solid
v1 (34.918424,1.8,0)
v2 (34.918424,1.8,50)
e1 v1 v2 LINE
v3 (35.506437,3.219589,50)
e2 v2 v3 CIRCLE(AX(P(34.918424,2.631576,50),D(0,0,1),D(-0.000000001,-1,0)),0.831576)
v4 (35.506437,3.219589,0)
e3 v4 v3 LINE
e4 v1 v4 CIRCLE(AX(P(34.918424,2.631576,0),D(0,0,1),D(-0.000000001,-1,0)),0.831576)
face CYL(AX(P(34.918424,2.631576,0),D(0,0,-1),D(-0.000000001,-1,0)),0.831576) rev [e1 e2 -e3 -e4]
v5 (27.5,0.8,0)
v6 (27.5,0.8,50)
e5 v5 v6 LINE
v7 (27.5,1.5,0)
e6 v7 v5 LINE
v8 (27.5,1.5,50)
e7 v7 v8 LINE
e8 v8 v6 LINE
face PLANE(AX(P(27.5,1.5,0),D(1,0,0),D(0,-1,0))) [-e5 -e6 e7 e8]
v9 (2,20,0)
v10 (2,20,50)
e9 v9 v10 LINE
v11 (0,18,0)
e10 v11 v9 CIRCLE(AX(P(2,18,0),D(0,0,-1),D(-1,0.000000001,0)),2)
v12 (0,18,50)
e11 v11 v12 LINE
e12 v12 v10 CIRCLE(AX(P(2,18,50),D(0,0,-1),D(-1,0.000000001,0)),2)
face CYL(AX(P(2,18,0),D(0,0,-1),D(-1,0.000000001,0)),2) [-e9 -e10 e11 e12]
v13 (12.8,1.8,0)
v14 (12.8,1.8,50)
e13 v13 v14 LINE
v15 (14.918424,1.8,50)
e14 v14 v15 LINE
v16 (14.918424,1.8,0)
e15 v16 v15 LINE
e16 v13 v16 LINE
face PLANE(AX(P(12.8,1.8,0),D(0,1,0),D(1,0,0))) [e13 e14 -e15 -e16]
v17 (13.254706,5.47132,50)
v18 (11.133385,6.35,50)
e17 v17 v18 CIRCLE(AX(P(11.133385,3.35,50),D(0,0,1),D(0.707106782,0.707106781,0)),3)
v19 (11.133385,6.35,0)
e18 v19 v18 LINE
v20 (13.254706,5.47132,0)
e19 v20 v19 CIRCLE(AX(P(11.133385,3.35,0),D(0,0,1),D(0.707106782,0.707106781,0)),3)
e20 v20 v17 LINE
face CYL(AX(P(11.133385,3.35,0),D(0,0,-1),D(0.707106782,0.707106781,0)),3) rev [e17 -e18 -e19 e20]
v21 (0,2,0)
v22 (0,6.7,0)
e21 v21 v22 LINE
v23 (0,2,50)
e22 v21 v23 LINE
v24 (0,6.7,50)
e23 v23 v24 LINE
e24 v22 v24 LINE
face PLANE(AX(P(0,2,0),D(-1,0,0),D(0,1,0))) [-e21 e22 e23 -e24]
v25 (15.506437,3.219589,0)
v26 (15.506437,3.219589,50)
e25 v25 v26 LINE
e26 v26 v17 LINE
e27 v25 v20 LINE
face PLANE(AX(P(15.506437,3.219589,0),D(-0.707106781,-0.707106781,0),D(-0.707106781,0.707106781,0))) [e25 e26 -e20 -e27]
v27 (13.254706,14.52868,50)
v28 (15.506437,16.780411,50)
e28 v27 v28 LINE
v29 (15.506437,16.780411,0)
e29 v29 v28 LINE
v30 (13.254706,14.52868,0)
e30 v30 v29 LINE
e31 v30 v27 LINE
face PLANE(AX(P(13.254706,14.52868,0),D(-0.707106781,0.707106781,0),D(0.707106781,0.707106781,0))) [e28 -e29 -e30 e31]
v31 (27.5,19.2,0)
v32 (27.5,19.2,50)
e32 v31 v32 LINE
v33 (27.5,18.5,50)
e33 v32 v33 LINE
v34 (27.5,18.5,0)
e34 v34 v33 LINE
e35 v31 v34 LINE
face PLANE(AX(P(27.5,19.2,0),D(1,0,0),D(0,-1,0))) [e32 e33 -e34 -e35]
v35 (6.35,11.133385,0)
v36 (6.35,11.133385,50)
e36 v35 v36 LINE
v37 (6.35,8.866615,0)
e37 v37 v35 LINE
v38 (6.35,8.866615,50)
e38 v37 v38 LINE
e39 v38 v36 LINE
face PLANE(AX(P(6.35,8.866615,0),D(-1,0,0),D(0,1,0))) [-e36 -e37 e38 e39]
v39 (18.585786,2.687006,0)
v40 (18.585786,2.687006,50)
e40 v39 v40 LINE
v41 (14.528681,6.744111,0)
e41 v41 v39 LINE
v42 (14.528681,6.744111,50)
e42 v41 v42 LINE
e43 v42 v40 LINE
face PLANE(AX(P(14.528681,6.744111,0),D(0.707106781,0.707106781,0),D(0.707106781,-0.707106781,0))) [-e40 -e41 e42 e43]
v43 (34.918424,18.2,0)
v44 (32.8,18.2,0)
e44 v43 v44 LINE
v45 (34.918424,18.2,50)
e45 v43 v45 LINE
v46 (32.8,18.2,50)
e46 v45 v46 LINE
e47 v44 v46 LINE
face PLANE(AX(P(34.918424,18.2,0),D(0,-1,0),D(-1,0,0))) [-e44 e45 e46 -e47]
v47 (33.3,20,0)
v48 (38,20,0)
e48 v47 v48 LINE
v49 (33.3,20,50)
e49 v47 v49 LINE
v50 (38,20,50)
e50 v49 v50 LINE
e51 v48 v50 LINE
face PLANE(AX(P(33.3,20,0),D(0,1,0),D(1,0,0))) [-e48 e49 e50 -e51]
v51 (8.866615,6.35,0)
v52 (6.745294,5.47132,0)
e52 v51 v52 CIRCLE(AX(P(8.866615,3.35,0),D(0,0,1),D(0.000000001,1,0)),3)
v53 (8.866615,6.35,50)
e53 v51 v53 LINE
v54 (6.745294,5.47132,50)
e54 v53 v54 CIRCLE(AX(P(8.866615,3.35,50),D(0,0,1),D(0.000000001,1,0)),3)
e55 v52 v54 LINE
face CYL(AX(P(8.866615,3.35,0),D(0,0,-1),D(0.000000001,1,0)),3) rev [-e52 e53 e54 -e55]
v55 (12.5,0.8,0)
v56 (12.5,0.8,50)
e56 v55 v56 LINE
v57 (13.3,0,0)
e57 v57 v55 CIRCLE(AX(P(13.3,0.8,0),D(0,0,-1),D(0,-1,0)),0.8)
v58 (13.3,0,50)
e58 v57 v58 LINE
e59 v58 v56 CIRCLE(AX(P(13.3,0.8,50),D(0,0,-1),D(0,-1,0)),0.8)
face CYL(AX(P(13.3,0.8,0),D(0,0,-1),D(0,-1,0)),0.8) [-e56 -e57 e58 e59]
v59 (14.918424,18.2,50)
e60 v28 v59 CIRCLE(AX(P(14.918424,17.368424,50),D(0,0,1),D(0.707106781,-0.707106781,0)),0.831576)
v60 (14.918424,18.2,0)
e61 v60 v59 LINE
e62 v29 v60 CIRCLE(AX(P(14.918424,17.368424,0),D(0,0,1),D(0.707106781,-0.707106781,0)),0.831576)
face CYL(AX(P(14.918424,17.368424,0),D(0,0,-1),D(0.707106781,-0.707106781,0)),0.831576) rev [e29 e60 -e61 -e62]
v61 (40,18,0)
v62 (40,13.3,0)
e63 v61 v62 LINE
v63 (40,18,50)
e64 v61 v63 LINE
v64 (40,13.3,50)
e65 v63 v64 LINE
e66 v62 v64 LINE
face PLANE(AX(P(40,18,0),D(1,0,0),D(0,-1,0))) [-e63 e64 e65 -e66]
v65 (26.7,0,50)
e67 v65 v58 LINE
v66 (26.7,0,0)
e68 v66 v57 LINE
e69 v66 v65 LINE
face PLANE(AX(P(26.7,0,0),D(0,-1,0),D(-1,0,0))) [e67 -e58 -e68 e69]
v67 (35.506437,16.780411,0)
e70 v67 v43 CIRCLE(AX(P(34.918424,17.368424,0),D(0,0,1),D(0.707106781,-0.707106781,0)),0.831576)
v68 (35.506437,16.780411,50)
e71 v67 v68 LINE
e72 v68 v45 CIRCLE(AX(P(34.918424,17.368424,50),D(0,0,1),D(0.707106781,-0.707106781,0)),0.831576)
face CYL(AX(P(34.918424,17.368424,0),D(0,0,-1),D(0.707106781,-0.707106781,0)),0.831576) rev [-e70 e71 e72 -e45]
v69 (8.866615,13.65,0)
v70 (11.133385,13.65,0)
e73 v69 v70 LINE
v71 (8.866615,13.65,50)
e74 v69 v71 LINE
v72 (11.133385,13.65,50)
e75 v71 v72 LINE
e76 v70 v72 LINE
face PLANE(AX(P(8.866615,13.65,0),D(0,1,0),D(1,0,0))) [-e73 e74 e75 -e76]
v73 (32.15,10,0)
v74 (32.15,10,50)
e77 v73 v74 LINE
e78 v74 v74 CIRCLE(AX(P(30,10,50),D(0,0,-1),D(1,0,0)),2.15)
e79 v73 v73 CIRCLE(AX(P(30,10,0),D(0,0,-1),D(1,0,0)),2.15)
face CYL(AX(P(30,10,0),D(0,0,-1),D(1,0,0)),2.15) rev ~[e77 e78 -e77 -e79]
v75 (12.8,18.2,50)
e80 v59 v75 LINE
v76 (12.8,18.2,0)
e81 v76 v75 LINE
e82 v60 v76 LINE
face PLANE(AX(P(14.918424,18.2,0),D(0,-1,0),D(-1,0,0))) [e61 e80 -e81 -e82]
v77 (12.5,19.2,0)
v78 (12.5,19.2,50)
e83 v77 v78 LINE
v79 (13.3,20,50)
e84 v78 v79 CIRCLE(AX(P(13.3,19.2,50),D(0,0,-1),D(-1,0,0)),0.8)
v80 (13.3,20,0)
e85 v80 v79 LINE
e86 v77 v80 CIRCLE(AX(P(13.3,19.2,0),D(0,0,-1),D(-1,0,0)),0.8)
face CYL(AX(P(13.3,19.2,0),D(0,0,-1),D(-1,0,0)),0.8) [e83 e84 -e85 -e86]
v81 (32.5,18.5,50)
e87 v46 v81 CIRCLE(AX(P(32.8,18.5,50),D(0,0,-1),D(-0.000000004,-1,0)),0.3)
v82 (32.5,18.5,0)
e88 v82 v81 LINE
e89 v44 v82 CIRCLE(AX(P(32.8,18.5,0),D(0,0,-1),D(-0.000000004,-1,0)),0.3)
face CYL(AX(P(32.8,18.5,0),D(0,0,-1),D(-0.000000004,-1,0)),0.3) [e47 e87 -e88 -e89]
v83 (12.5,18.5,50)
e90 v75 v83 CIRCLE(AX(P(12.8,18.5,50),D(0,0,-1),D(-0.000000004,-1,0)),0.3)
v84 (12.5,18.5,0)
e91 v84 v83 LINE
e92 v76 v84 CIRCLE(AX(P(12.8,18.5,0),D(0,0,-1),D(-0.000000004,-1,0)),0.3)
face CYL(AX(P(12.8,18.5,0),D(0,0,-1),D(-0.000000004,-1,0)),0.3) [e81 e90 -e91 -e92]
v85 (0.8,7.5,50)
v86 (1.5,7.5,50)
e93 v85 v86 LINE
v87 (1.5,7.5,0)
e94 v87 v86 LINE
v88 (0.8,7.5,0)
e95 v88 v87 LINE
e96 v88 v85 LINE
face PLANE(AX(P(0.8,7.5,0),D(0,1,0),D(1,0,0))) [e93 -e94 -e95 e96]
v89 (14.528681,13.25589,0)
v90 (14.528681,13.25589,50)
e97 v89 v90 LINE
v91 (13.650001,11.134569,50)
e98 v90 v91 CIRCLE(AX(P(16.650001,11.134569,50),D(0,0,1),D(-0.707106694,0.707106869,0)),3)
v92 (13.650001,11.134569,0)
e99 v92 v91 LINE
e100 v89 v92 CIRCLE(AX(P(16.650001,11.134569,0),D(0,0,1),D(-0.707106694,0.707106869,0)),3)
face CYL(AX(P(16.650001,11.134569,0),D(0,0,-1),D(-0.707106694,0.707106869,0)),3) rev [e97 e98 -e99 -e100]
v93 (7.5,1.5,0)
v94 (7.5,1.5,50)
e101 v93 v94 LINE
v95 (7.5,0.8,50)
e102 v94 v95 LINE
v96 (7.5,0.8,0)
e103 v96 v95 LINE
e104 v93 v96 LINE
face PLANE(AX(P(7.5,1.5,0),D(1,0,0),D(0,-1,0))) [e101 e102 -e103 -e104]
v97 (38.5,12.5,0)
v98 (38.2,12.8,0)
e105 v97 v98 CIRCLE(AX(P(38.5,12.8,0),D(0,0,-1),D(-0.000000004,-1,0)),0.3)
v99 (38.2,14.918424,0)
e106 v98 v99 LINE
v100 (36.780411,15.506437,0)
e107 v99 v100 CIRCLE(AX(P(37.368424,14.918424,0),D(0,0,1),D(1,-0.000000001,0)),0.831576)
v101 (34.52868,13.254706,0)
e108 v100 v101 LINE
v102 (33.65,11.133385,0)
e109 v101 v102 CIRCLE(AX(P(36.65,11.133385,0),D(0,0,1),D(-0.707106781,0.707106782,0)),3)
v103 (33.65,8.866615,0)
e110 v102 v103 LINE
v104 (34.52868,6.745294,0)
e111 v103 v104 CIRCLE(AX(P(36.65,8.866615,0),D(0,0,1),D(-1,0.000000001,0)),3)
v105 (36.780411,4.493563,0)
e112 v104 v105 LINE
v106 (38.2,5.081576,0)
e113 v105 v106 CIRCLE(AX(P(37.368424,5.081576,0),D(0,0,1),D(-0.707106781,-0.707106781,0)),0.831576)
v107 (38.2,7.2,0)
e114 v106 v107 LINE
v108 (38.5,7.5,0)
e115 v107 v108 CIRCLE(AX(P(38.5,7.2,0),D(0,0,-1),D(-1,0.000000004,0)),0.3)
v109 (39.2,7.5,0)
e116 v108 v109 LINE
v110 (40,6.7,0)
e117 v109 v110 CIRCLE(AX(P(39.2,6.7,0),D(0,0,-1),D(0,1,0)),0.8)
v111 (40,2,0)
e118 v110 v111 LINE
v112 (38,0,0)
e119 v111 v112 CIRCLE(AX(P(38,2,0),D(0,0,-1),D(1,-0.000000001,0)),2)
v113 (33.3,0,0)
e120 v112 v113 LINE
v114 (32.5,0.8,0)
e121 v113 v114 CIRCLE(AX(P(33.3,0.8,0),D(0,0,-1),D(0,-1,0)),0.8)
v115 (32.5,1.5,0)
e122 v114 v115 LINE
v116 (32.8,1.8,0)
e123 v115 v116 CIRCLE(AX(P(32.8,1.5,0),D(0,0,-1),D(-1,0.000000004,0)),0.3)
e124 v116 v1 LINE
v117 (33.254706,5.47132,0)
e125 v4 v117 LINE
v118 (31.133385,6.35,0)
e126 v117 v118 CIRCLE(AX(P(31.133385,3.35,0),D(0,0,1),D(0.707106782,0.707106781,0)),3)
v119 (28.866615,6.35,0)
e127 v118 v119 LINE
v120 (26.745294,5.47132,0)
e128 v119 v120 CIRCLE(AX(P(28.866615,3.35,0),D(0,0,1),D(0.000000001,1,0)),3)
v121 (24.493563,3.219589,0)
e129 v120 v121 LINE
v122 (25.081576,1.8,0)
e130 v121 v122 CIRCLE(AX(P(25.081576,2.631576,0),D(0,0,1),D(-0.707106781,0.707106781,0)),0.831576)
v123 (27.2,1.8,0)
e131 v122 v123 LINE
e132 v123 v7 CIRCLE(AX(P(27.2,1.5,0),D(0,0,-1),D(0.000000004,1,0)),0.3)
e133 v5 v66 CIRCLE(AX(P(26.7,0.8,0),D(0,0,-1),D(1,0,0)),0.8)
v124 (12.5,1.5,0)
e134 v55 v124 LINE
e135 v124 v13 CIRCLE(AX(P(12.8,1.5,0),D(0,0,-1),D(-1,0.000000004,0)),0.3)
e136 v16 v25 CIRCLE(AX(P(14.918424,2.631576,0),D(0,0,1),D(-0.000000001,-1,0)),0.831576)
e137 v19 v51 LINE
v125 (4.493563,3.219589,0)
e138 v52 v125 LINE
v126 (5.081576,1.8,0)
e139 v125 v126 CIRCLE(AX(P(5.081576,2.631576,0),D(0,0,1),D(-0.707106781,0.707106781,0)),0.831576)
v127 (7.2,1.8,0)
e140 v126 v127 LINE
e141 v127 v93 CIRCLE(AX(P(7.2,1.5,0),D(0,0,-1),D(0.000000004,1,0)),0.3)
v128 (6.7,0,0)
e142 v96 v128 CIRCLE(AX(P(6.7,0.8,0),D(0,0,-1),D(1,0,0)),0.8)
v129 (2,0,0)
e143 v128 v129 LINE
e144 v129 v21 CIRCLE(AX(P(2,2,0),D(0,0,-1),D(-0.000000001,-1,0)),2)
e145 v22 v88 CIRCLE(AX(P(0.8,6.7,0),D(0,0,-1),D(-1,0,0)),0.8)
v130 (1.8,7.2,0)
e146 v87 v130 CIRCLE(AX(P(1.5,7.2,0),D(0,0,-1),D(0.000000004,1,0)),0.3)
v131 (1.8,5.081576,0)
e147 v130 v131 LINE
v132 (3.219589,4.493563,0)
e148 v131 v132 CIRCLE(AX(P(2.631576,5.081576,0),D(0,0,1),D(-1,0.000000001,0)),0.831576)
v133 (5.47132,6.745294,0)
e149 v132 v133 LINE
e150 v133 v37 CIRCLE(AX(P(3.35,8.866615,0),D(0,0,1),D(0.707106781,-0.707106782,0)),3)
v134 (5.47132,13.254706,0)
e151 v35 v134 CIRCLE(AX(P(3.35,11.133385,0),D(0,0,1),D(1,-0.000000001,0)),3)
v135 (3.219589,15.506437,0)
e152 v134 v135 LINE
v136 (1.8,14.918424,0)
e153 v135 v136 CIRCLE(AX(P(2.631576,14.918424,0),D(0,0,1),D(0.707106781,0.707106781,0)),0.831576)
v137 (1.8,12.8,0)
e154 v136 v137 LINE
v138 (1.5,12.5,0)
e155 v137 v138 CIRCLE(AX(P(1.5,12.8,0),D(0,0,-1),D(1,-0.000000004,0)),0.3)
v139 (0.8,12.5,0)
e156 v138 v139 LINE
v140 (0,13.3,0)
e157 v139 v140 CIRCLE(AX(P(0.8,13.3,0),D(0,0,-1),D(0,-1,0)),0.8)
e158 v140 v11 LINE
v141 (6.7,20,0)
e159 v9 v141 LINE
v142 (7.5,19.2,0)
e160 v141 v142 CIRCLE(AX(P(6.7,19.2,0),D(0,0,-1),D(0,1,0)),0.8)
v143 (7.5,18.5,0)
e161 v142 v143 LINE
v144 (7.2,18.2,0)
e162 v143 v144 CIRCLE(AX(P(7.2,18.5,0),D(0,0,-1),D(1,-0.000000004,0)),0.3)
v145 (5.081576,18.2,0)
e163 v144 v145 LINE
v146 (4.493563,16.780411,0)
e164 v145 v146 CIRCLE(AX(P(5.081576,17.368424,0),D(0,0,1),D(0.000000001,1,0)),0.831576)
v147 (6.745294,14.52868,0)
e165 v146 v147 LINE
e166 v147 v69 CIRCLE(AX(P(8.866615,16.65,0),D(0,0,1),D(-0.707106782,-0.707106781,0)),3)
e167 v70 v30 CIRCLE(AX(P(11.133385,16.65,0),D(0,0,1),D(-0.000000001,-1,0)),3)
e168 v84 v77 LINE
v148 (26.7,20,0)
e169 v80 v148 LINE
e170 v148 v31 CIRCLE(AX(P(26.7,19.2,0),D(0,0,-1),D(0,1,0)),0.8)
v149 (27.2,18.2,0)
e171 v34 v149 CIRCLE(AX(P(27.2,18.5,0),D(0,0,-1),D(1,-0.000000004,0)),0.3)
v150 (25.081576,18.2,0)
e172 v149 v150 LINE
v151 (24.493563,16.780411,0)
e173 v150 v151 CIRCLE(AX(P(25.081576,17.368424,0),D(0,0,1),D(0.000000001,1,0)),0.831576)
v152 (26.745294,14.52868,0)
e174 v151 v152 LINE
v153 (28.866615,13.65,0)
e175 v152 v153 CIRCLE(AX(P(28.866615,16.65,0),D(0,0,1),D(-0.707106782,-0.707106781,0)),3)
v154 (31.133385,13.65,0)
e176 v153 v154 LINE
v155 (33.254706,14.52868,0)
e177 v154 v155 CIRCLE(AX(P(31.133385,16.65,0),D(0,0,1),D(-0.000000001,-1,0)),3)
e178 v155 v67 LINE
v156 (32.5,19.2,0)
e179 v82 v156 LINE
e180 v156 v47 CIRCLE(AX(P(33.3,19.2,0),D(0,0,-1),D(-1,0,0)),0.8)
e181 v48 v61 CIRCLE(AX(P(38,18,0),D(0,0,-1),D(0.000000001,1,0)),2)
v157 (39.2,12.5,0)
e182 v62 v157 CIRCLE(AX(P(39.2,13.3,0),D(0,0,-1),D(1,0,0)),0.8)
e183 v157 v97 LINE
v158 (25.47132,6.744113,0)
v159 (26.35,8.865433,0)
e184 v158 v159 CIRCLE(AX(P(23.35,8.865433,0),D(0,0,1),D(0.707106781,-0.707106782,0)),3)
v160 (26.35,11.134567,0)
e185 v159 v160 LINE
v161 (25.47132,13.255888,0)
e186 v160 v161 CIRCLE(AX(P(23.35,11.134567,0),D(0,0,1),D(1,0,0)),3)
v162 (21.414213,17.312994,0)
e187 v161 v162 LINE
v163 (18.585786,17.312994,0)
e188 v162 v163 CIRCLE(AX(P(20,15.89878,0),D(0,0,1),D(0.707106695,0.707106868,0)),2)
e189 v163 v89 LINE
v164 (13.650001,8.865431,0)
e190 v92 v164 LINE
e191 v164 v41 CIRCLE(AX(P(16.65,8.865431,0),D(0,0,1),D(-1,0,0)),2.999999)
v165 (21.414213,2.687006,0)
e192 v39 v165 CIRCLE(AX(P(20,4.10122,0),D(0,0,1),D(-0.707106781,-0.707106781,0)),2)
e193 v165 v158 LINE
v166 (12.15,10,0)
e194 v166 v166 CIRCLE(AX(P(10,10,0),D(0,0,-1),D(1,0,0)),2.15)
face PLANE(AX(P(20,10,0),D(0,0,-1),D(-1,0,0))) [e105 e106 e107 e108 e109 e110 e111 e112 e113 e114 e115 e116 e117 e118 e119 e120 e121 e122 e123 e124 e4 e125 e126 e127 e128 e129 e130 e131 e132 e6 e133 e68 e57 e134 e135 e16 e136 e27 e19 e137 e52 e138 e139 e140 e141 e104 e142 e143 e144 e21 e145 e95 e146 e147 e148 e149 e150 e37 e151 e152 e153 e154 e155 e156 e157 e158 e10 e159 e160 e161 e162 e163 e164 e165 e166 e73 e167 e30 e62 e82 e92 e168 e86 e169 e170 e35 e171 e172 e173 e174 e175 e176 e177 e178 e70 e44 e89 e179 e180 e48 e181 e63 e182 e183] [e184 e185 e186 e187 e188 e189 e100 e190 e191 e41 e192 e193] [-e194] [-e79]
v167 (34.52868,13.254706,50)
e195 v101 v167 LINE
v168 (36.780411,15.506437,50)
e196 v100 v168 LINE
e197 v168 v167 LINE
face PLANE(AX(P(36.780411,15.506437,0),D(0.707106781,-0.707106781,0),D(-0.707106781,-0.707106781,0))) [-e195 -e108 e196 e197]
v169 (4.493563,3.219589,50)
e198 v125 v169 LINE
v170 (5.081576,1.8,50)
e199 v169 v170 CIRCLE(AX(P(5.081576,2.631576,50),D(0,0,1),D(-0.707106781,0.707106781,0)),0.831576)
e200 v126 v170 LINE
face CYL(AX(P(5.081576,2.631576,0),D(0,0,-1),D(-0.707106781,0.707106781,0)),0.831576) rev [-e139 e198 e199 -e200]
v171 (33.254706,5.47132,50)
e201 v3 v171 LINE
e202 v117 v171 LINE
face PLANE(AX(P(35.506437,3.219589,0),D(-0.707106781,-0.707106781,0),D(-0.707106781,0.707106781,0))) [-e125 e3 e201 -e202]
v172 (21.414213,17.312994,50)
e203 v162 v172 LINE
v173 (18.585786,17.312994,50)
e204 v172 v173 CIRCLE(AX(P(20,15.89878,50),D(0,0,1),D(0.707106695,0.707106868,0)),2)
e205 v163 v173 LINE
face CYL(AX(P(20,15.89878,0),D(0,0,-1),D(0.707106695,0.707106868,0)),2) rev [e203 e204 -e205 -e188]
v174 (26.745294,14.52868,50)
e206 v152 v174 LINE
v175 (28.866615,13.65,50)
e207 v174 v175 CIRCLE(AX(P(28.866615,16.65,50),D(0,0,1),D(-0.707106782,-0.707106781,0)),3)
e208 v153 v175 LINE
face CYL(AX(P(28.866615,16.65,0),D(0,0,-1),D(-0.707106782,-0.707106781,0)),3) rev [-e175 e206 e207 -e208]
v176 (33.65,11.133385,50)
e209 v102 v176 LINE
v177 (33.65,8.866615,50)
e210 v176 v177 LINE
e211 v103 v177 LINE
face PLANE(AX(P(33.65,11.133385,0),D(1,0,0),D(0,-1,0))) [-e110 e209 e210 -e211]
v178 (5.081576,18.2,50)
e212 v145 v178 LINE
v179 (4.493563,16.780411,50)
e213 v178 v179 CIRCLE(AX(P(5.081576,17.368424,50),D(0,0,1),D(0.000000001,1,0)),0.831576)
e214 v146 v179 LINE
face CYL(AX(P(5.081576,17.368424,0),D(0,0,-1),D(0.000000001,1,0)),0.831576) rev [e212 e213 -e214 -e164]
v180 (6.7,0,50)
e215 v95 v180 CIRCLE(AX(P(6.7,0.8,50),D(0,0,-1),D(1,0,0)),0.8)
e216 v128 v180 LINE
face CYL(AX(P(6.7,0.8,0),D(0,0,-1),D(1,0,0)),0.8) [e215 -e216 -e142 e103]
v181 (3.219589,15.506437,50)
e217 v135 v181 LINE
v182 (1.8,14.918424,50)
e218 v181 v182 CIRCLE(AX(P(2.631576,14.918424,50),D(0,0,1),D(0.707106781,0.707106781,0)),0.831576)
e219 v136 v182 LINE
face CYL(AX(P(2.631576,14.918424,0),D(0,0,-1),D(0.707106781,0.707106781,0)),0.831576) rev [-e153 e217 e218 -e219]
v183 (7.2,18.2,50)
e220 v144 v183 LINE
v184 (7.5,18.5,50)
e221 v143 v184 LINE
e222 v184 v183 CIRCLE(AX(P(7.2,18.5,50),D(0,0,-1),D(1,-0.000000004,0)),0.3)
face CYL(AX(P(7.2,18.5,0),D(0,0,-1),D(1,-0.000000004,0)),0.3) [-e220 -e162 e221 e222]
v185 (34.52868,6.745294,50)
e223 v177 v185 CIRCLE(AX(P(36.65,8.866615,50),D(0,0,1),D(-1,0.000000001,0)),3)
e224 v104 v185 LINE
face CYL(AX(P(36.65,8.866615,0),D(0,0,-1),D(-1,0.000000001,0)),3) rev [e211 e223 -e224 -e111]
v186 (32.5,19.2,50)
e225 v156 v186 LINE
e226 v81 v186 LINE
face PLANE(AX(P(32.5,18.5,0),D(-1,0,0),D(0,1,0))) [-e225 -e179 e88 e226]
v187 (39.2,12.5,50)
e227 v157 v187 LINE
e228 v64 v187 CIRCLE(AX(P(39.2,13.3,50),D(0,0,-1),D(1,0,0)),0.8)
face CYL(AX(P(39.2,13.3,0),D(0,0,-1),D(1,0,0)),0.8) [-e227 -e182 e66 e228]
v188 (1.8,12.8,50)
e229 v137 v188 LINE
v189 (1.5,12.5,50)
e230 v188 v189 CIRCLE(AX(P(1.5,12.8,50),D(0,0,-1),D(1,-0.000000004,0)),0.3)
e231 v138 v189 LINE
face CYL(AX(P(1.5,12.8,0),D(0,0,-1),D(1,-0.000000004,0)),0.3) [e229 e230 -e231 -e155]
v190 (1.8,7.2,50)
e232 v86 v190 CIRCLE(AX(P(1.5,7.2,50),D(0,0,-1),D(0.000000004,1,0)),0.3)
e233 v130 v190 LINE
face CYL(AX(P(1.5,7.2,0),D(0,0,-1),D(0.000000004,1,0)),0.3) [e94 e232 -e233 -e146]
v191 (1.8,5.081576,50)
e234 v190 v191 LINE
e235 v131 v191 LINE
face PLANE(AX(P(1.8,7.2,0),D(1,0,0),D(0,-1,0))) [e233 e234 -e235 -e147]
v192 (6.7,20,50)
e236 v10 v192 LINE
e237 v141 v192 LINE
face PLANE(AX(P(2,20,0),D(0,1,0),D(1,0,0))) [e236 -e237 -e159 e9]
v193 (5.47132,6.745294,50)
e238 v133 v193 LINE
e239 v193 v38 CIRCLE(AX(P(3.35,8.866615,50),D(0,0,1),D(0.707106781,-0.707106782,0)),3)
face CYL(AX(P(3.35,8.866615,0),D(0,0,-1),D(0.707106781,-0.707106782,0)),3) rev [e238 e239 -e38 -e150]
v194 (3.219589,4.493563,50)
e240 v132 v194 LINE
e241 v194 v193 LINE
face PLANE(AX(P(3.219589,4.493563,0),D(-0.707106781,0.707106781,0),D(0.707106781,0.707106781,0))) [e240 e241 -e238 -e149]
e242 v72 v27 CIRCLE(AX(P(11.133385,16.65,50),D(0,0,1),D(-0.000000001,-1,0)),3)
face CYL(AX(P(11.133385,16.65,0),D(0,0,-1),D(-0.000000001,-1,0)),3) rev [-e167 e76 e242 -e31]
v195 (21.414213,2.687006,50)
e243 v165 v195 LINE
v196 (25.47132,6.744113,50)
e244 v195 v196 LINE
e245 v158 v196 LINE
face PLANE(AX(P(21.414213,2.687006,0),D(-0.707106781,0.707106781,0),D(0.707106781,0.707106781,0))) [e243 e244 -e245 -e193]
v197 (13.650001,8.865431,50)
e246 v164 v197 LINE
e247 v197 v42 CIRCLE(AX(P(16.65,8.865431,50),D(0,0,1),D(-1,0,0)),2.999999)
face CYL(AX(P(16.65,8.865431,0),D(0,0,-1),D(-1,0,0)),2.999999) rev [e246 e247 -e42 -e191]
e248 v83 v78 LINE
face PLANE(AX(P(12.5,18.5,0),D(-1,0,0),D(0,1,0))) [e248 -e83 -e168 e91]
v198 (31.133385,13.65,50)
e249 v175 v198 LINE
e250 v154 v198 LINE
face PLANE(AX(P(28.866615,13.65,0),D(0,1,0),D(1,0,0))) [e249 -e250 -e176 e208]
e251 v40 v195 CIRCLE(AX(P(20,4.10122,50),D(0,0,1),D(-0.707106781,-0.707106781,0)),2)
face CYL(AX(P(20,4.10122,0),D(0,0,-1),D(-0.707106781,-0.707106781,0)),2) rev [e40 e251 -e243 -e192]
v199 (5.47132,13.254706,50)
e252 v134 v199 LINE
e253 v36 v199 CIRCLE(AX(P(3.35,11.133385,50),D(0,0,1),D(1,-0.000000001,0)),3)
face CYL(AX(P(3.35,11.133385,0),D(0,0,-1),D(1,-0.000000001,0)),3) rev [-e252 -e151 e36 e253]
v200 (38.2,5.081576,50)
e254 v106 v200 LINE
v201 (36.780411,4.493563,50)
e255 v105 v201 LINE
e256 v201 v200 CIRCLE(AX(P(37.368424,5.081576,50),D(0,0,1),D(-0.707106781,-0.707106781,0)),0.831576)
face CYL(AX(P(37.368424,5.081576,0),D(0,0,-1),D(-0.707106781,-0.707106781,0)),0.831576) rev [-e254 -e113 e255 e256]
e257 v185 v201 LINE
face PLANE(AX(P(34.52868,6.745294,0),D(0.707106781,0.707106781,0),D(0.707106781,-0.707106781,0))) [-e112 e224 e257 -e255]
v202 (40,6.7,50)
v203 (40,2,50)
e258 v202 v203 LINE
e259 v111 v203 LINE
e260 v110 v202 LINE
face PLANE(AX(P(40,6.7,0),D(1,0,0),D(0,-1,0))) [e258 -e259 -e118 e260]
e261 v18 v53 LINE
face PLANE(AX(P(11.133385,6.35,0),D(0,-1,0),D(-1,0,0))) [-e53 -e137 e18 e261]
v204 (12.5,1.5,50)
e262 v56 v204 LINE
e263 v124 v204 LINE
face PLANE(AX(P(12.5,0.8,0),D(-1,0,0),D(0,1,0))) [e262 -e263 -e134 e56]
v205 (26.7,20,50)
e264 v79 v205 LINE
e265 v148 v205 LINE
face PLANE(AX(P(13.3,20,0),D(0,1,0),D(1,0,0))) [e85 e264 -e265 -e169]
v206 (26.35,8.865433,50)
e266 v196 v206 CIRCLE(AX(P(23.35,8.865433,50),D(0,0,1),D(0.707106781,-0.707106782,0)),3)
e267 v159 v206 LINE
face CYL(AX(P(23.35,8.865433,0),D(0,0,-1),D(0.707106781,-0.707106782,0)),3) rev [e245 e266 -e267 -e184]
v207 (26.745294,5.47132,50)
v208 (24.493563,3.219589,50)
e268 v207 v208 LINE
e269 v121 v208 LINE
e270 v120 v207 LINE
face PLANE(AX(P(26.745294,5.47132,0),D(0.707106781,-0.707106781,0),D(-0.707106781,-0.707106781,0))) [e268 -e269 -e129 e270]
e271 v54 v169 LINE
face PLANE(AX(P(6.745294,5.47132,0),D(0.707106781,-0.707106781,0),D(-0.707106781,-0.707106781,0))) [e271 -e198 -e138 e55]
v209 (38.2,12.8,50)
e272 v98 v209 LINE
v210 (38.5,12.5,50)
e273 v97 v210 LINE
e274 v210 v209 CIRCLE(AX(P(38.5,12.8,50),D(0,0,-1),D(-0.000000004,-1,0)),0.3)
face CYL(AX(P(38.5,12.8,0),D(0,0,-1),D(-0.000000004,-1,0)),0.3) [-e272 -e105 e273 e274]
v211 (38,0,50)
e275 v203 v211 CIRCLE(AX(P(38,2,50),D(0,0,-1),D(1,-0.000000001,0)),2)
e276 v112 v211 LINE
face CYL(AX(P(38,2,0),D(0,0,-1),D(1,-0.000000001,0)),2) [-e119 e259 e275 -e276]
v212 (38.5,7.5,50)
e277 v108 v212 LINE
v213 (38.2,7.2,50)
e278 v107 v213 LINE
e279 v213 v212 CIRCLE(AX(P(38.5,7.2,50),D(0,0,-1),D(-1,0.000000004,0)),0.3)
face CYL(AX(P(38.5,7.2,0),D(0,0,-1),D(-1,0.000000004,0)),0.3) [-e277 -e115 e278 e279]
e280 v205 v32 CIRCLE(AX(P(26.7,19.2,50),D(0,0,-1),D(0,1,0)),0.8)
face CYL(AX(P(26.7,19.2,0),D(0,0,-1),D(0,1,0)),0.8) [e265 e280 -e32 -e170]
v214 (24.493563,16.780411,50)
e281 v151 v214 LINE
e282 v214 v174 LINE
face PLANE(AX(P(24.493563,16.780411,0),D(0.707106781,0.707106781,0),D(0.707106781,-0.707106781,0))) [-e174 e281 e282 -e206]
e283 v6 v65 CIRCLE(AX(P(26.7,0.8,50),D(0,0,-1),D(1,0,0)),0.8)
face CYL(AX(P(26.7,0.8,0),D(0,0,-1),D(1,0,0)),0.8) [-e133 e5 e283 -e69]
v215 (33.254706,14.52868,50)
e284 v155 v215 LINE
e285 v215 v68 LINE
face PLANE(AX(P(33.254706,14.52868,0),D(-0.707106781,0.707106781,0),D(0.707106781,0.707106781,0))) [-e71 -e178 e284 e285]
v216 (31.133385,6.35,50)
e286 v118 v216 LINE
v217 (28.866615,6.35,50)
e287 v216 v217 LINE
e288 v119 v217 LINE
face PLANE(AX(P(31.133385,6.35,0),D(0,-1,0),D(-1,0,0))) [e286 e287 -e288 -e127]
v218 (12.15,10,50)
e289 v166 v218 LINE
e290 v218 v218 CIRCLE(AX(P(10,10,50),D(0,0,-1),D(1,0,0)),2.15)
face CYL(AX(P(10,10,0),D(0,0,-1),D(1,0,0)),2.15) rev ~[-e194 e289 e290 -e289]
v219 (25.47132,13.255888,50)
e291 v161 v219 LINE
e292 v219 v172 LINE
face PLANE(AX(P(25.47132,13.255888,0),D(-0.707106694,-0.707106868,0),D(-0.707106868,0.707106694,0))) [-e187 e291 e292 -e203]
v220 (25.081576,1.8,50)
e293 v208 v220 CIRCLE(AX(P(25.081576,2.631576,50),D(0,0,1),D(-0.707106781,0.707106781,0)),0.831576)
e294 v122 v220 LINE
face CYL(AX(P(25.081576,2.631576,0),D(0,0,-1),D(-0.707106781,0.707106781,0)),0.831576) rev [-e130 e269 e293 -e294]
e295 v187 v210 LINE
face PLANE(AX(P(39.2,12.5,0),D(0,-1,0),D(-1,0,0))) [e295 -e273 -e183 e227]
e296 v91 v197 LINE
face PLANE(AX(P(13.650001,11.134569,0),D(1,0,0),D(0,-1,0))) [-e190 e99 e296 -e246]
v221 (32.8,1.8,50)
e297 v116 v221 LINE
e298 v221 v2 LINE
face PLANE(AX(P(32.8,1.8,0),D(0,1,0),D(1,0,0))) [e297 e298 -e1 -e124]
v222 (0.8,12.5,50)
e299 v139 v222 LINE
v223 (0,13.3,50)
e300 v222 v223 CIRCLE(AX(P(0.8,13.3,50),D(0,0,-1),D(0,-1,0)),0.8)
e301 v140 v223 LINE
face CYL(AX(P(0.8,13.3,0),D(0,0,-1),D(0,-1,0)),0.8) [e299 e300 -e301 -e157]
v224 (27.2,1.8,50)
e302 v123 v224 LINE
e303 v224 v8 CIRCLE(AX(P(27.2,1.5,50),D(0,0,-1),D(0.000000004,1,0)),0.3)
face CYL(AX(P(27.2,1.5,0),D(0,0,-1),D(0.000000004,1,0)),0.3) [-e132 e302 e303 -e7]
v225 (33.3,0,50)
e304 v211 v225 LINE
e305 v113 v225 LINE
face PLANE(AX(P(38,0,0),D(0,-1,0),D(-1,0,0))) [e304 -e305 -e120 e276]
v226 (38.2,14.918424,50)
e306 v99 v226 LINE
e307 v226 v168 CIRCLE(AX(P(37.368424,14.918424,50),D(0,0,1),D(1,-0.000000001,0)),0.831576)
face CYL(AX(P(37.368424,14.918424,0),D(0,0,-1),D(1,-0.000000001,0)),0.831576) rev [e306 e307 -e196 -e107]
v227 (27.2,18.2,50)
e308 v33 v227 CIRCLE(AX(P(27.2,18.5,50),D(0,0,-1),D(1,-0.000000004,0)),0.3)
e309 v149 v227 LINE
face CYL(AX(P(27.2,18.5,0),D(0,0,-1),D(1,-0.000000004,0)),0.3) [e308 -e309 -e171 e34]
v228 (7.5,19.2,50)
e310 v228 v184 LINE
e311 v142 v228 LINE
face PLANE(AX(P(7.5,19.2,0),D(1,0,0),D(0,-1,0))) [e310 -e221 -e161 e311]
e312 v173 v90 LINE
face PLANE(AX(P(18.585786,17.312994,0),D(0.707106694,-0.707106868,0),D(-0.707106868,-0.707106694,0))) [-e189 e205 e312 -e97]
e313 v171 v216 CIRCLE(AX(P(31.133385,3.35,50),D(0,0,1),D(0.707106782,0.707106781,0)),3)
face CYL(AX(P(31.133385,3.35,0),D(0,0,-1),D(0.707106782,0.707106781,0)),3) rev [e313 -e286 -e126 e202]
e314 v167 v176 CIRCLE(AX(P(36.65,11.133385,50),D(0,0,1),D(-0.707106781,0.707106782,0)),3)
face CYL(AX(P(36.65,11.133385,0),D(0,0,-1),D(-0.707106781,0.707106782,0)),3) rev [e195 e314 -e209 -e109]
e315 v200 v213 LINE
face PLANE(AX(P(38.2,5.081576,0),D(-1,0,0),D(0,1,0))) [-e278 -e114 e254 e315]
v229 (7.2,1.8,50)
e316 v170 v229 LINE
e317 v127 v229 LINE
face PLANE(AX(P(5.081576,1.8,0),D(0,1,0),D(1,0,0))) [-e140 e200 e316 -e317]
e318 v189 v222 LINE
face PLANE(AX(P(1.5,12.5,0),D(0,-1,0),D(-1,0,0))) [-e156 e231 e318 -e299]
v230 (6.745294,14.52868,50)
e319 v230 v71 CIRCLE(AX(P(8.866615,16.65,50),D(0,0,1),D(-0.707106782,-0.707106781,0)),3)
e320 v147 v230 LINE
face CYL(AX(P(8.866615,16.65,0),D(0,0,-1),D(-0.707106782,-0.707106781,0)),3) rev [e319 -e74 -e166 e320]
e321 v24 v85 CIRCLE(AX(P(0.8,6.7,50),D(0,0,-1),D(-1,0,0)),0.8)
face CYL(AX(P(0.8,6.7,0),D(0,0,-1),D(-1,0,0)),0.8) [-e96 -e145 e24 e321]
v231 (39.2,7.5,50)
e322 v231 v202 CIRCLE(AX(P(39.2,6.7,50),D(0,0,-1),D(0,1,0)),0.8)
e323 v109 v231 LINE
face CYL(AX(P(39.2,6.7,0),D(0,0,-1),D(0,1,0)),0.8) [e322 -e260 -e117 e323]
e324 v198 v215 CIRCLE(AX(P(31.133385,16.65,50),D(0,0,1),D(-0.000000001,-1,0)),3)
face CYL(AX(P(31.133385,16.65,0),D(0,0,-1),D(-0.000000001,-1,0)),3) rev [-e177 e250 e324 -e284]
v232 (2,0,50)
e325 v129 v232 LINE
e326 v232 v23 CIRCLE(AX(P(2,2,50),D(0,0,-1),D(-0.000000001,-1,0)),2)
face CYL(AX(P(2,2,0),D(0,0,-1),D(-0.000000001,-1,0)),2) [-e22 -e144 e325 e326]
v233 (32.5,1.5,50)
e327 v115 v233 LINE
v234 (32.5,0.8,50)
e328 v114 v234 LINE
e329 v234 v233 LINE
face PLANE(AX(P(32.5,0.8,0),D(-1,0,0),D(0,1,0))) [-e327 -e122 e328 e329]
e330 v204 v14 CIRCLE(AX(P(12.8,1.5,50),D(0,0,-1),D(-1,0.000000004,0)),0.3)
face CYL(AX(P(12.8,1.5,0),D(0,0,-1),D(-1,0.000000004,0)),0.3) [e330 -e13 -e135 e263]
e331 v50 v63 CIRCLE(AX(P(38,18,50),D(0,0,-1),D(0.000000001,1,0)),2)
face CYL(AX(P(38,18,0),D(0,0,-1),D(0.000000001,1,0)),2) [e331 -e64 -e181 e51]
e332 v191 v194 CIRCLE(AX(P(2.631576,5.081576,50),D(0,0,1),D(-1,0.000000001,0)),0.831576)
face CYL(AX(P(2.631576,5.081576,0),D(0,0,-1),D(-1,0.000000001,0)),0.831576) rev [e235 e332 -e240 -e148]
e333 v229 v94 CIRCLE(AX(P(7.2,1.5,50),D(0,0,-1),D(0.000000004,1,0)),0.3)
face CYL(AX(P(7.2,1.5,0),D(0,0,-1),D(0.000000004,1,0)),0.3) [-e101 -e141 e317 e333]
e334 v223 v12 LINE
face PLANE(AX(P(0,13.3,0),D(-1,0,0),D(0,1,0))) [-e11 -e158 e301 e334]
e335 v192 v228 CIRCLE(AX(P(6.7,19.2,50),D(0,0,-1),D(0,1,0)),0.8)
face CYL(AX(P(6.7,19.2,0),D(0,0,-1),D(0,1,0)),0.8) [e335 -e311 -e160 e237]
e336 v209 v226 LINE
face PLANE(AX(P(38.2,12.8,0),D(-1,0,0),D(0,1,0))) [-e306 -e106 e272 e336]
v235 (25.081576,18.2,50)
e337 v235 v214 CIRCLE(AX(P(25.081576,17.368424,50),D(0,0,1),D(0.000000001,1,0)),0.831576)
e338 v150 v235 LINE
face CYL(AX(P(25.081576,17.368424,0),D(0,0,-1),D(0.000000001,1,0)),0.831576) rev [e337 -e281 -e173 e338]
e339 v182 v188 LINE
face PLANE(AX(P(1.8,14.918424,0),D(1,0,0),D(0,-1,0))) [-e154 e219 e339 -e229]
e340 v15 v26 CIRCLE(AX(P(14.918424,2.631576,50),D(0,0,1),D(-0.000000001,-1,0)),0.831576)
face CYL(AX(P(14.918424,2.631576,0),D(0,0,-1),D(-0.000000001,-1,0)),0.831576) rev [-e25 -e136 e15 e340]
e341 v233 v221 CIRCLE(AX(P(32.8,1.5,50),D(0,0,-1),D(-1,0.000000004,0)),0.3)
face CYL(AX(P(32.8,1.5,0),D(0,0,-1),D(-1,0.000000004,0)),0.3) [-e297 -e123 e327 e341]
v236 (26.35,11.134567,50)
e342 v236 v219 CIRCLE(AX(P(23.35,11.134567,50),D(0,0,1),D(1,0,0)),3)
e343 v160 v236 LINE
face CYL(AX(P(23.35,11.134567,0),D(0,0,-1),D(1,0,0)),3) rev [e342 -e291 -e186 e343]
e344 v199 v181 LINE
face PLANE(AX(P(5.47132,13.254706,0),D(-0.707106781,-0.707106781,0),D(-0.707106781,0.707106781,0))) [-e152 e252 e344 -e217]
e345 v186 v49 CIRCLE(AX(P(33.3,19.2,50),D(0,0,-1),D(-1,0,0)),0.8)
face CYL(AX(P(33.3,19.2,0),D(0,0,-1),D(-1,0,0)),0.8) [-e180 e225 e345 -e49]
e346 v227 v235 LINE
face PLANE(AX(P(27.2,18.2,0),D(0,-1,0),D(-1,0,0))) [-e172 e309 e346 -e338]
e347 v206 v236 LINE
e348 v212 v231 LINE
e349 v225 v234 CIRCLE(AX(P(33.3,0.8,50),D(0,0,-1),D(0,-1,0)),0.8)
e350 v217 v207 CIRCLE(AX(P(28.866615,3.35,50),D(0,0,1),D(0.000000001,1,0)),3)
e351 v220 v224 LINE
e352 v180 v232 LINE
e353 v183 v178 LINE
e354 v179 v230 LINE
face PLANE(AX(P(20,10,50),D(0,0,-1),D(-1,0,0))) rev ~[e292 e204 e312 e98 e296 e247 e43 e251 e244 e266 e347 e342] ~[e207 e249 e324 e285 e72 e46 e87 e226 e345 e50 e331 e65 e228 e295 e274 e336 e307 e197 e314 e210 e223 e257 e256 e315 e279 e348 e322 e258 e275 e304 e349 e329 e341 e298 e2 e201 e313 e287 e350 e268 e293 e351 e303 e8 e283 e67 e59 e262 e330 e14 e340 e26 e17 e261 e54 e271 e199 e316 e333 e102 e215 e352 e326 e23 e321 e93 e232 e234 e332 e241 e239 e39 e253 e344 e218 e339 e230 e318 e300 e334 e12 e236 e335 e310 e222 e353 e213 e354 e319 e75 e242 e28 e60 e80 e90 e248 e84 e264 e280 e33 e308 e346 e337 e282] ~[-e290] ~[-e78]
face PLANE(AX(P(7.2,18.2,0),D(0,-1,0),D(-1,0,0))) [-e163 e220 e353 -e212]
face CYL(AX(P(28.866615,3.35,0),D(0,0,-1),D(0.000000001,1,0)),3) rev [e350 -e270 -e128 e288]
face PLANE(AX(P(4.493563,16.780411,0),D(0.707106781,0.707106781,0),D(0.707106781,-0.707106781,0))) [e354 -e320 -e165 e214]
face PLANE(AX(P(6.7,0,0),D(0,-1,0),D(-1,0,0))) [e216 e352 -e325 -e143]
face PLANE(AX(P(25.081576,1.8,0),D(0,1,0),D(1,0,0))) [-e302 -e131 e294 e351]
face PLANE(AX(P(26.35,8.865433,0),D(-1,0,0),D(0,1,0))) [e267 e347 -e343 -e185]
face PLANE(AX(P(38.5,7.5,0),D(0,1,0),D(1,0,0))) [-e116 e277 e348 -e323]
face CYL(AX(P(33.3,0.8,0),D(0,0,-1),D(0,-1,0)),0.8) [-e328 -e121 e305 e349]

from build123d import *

# Parameters (mm, degrees)
ESQUISSE1_R        = 2.15
BOSS_EXTRU_1_DEPTH = 50


with BuildPart() as part:
    # Esquisse1 → Boss.-Extru.1 (new body)
    with BuildSketch(Plane(origin=(0, 0, 0), x_dir=(-1, 0, 0), z_dir=(0, 0, -1))):
        with BuildLine():
            Line((-40, 6.7), (-40, 2))
            ThreePointArc((-40, 2), (-39.414213562, 0.585786438), (-38, 0))
            Line((-38, 0), (-33.3, 0))
            ThreePointArc((-33.3, 0), (-32.734314575, 0.234314575), (-32.5, 0.8))
            Line((-32.5, 0.8), (-32.5, 1.5))
            ThreePointArc((-32.5, 1.5), (-32.587867966, 1.712132034), (-32.8, 1.8))
            Line((-32.8, 1.8), (-34.918424061, 1.8))
            ThreePointArc((-34.918424061, 1.8), (-35.686700051, 2.313345604), (-35.506437047, 3.219588924))
            Line((-35.506437047, 3.219588924), (-33.254705627, 5.471320344))
            ThreePointArc((-33.254705627, 5.471320344), (-32.281435581, 6.121638598), (-31.133385284, 6.35))
            Line((-31.133385284, 6.35), (-28.866614716, 6.35))
            ThreePointArc((-28.866614716, 6.35), (-27.718564419, 6.121638598), (-26.745294373, 5.471320344))
            Line((-26.745294373, 5.471320344), (-24.493562953, 3.219588924))
            ThreePointArc((-24.493562953, 3.219588924), (-24.313299949, 2.313345604), (-25.081575939, 1.8))
            Line((-25.081575939, 1.8), (-27.2, 1.8))
            ThreePointArc((-27.2, 1.8), (-27.412132034, 1.712132034), (-27.5, 1.5))
            Line((-27.5, 1.5), (-27.5, 0.8))
            ThreePointArc((-27.5, 0.8), (-27.265685425, 0.234314575), (-26.7, 0))
            Line((-26.7, 0), (-13.3, 0))
            ThreePointArc((-13.3, 0), (-12.734314575, 0.234314575), (-12.5, 0.8))
            Line((-12.5, 0.8), (-12.5, 1.5))
            ThreePointArc((-12.5, 1.5), (-12.587867966, 1.712132034), (-12.8, 1.8))
            Line((-12.8, 1.8), (-14.918424061, 1.8))
            ThreePointArc((-14.918424061, 1.8), (-15.686700051, 2.313345604), (-15.506437047, 3.219588924))
            Line((-15.506437047, 3.219588924), (-13.254705627, 5.471320344))
            ThreePointArc((-13.254705627, 5.471320344), (-12.281435581, 6.121638598), (-11.133385284, 6.35))
            Line((-11.133385284, 6.35), (-8.866614716, 6.35))
            ThreePointArc((-8.866614716, 6.35), (-7.718564419, 6.121638598), (-6.745294373, 5.471320344))
            Line((-6.745294373, 5.471320344), (-4.493562953, 3.219588924))
            ThreePointArc((-4.493562953, 3.219588924), (-4.313299949, 2.313345604), (-5.081575939, 1.8))
            Line((-5.081575939, 1.8), (-7.2, 1.8))
            ThreePointArc((-7.2, 1.8), (-7.412132034, 1.712132034), (-7.5, 1.5))
            Line((-7.5, 1.5), (-7.5, 0.8))
            ThreePointArc((-7.5, 0.8), (-7.265685425, 0.234314575), (-6.7, 0))
            Line((-6.7, 0), (-2, 0))
            ThreePointArc((-2, 0), (-0.585786438, 0.585786438), (0, 2))
            Line((0, 2), (0, 6.7))
            ThreePointArc((0, 6.7), (-0.234314575, 7.265685425), (-0.8, 7.5))
            Line((-0.8, 7.5), (-1.5, 7.5))
            ThreePointArc((-1.5, 7.5), (-1.712132034, 7.412132034), (-1.8, 7.2))
            Line((-1.8, 7.2), (-1.8, 5.081575939))
            ThreePointArc((-1.8, 5.081575939), (-2.313345604, 4.313299949), (-3.219588924, 4.493562953))
            Line((-3.219588924, 4.493562953), (-5.471320344, 6.745294373))
            ThreePointArc((-5.471320344, 6.745294373), (-6.121638598, 7.718564419), (-6.35, 8.866614716))
            Line((-6.35, 8.866614716), (-6.35, 11.133385284))
            ThreePointArc((-6.35, 11.133385284), (-6.121638598, 12.281435581), (-5.471320344, 13.254705627))
            Line((-5.471320344, 13.254705627), (-3.219588924, 15.506437047))
            ThreePointArc((-3.219588924, 15.506437047), (-2.313345604, 15.686700051), (-1.8, 14.918424061))
            Line((-1.8, 14.918424061), (-1.8, 12.8))
            ThreePointArc((-1.8, 12.8), (-1.712132034, 12.587867966), (-1.5, 12.5))
            Line((-1.5, 12.5), (-0.8, 12.5))
            ThreePointArc((-0.8, 12.5), (-0.234314575, 12.734314575), (0, 13.3))
            Line((0, 13.3), (0, 18))
            ThreePointArc((0, 18), (-0.585786438, 19.414213562), (-2, 20))
            Line((-2, 20), (-6.7, 20))
            ThreePointArc((-6.7, 20), (-7.265685425, 19.765685425), (-7.5, 19.2))
            Line((-7.5, 19.2), (-7.5, 18.5))
            ThreePointArc((-7.5, 18.5), (-7.412132034, 18.287867966), (-7.2, 18.2))
            Line((-7.2, 18.2), (-5.081575939, 18.2))
            ThreePointArc((-5.081575939, 18.2), (-4.313299949, 17.686654396), (-4.493562953, 16.780411076))
            Line((-4.493562953, 16.780411076), (-6.745294373, 14.528679656))
            ThreePointArc((-6.745294373, 14.528679656), (-7.718564419, 13.878361402), (-8.866614716, 13.65))
            Line((-8.866614716, 13.65), (-11.133385284, 13.65))
            ThreePointArc((-11.133385284, 13.65), (-12.281435581, 13.878361402), (-13.254705627, 14.528679656))
            Line((-13.254705627, 14.528679656), (-15.506437047, 16.780411076))
            ThreePointArc((-15.506437047, 16.780411076), (-15.686700051, 17.686654396), (-14.918424061, 18.2))
            Line((-14.918424061, 18.2), (-12.8, 18.2))
            ThreePointArc((-12.8, 18.2), (-12.587867966, 18.287867966), (-12.5, 18.5))
            Line((-12.5, 18.5), (-12.5, 19.2))
            ThreePointArc((-12.5, 19.2), (-12.734314575, 19.765685425), (-13.3, 20))
            Line((-13.3, 20), (-26.7, 20))
            ThreePointArc((-26.7, 20), (-27.265685425, 19.765685425), (-27.5, 19.2))
            Line((-27.5, 19.2), (-27.5, 18.5))
            ThreePointArc((-27.5, 18.5), (-27.412132034, 18.287867966), (-27.2, 18.2))
            Line((-27.2, 18.2), (-25.081575939, 18.2))
            ThreePointArc((-25.081575939, 18.2), (-24.313299949, 17.686654396), (-24.493562953, 16.780411076))
            Line((-24.493562953, 16.780411076), (-26.745294373, 14.528679656))
            ThreePointArc((-26.745294373, 14.528679656), (-27.718564419, 13.878361402), (-28.866614716, 13.65))
            Line((-28.866614716, 13.65), (-31.133385284, 13.65))
            ThreePointArc((-31.133385284, 13.65), (-32.281435581, 13.878361402), (-33.254705627, 14.528679656))
            Line((-33.254705627, 14.528679656), (-35.506437047, 16.780411076))
            ThreePointArc((-35.506437047, 16.780411076), (-35.686700051, 17.686654396), (-34.918424061, 18.2))
            Line((-34.918424061, 18.2), (-32.8, 18.2))
            ThreePointArc((-32.8, 18.2), (-32.587867966, 18.287867966), (-32.5, 18.5))
            Line((-32.5, 18.5), (-32.5, 19.2))
            ThreePointArc((-32.5, 19.2), (-32.734314575, 19.765685425), (-33.3, 20))
            Line((-33.3, 20), (-38, 20))
            ThreePointArc((-38, 20), (-39.414213562, 19.414213562), (-40, 18))
            Line((-40, 18), (-40, 13.3))
            ThreePointArc((-40, 13.3), (-39.765685425, 12.734314575), (-39.2, 12.5))
            Line((-39.2, 12.5), (-38.5, 12.5))
            ThreePointArc((-38.5, 12.5), (-38.287867966, 12.587867966), (-38.2, 12.8))
            Line((-38.2, 12.8), (-38.2, 14.918424061))
            ThreePointArc((-38.2, 14.918424061), (-37.686654396, 15.686700051), (-36.780411076, 15.506437047))
            Line((-36.780411076, 15.506437047), (-34.528679656, 13.254705627))
            ThreePointArc((-34.528679656, 13.254705627), (-33.878361402, 12.281435581), (-33.65, 11.133385284))
            Line((-33.65, 11.133385284), (-33.65, 8.866614716))
            ThreePointArc((-33.65, 8.866614716), (-33.878361402, 7.718564419), (-34.528679656, 6.745294373))
            Line((-34.528679656, 6.745294373), (-36.780411076, 4.493562953))
            ThreePointArc((-36.780411076, 4.493562953), (-37.686654396, 4.313299949), (-38.2, 5.081575939))
            Line((-38.2, 5.081575939), (-38.2, 7.2))
            ThreePointArc((-38.2, 7.2), (-38.287867966, 7.412132034), (-38.5, 7.5))
            Line((-38.5, 7.5), (-39.2, 7.5))
            ThreePointArc((-39.2, 7.5), (-39.765685425, 7.265685425), (-40, 6.7))
        make_face()
        with Locations(Location((-10, 10, 0), (0, 0, 180))):
            Circle(ESQUISSE1_R, mode=Mode.SUBTRACT)
        with Locations(Location((-30, 10, 0), (0, 0, 180))):
            Circle(ESQUISSE1_R, mode=Mode.SUBTRACT)
        with BuildLine():
            Line((-18.585786174, 17.312993861), (-14.528681072, 13.255889759))
            ThreePointArc((-14.528681072, 13.255889759), (-13.878362627, 12.282619622), (-13.650001154, 11.134569154))
            Line((-13.650001154, 11.134569154), (-13.650001154, 8.865431094))
            ThreePointArc((-13.650001154, 8.865431094), (-13.878362476, 7.717381202), (-14.5286805, 6.7441115))
            Line((-14.5286805, 6.7441115), (-18.585786, 2.687006))
            ThreePointArc((-18.585786, 2.687006), (-19.999999562, 2.101219562), (-21.414213125, 2.687006))
            Line((-21.414213125, 2.687006), (-25.471320125, 6.744113))
            ThreePointArc((-25.471320125, 6.744113), (-26.121638379, 7.717383046), (-26.349999781, 8.865433344))
            Line((-26.349999781, 8.865433344), (-26.349999781, 11.134567344))
            ThreePointArc((-26.349999781, 11.134567344), (-26.121638308, 12.282617811), (-25.471319863, 13.255887949))
            Line((-25.471319863, 13.255887949), (-21.41421295, 17.312993861))
            ThreePointArc((-21.41421295, 17.312993861), (-19.999999562, 17.898780125), (-18.585786174, 17.312993861))
        make_face(mode=Mode.SUBTRACT)
    extrude(amount=-BOSS_EXTRU_1_DEPTH)


solid = part.part
